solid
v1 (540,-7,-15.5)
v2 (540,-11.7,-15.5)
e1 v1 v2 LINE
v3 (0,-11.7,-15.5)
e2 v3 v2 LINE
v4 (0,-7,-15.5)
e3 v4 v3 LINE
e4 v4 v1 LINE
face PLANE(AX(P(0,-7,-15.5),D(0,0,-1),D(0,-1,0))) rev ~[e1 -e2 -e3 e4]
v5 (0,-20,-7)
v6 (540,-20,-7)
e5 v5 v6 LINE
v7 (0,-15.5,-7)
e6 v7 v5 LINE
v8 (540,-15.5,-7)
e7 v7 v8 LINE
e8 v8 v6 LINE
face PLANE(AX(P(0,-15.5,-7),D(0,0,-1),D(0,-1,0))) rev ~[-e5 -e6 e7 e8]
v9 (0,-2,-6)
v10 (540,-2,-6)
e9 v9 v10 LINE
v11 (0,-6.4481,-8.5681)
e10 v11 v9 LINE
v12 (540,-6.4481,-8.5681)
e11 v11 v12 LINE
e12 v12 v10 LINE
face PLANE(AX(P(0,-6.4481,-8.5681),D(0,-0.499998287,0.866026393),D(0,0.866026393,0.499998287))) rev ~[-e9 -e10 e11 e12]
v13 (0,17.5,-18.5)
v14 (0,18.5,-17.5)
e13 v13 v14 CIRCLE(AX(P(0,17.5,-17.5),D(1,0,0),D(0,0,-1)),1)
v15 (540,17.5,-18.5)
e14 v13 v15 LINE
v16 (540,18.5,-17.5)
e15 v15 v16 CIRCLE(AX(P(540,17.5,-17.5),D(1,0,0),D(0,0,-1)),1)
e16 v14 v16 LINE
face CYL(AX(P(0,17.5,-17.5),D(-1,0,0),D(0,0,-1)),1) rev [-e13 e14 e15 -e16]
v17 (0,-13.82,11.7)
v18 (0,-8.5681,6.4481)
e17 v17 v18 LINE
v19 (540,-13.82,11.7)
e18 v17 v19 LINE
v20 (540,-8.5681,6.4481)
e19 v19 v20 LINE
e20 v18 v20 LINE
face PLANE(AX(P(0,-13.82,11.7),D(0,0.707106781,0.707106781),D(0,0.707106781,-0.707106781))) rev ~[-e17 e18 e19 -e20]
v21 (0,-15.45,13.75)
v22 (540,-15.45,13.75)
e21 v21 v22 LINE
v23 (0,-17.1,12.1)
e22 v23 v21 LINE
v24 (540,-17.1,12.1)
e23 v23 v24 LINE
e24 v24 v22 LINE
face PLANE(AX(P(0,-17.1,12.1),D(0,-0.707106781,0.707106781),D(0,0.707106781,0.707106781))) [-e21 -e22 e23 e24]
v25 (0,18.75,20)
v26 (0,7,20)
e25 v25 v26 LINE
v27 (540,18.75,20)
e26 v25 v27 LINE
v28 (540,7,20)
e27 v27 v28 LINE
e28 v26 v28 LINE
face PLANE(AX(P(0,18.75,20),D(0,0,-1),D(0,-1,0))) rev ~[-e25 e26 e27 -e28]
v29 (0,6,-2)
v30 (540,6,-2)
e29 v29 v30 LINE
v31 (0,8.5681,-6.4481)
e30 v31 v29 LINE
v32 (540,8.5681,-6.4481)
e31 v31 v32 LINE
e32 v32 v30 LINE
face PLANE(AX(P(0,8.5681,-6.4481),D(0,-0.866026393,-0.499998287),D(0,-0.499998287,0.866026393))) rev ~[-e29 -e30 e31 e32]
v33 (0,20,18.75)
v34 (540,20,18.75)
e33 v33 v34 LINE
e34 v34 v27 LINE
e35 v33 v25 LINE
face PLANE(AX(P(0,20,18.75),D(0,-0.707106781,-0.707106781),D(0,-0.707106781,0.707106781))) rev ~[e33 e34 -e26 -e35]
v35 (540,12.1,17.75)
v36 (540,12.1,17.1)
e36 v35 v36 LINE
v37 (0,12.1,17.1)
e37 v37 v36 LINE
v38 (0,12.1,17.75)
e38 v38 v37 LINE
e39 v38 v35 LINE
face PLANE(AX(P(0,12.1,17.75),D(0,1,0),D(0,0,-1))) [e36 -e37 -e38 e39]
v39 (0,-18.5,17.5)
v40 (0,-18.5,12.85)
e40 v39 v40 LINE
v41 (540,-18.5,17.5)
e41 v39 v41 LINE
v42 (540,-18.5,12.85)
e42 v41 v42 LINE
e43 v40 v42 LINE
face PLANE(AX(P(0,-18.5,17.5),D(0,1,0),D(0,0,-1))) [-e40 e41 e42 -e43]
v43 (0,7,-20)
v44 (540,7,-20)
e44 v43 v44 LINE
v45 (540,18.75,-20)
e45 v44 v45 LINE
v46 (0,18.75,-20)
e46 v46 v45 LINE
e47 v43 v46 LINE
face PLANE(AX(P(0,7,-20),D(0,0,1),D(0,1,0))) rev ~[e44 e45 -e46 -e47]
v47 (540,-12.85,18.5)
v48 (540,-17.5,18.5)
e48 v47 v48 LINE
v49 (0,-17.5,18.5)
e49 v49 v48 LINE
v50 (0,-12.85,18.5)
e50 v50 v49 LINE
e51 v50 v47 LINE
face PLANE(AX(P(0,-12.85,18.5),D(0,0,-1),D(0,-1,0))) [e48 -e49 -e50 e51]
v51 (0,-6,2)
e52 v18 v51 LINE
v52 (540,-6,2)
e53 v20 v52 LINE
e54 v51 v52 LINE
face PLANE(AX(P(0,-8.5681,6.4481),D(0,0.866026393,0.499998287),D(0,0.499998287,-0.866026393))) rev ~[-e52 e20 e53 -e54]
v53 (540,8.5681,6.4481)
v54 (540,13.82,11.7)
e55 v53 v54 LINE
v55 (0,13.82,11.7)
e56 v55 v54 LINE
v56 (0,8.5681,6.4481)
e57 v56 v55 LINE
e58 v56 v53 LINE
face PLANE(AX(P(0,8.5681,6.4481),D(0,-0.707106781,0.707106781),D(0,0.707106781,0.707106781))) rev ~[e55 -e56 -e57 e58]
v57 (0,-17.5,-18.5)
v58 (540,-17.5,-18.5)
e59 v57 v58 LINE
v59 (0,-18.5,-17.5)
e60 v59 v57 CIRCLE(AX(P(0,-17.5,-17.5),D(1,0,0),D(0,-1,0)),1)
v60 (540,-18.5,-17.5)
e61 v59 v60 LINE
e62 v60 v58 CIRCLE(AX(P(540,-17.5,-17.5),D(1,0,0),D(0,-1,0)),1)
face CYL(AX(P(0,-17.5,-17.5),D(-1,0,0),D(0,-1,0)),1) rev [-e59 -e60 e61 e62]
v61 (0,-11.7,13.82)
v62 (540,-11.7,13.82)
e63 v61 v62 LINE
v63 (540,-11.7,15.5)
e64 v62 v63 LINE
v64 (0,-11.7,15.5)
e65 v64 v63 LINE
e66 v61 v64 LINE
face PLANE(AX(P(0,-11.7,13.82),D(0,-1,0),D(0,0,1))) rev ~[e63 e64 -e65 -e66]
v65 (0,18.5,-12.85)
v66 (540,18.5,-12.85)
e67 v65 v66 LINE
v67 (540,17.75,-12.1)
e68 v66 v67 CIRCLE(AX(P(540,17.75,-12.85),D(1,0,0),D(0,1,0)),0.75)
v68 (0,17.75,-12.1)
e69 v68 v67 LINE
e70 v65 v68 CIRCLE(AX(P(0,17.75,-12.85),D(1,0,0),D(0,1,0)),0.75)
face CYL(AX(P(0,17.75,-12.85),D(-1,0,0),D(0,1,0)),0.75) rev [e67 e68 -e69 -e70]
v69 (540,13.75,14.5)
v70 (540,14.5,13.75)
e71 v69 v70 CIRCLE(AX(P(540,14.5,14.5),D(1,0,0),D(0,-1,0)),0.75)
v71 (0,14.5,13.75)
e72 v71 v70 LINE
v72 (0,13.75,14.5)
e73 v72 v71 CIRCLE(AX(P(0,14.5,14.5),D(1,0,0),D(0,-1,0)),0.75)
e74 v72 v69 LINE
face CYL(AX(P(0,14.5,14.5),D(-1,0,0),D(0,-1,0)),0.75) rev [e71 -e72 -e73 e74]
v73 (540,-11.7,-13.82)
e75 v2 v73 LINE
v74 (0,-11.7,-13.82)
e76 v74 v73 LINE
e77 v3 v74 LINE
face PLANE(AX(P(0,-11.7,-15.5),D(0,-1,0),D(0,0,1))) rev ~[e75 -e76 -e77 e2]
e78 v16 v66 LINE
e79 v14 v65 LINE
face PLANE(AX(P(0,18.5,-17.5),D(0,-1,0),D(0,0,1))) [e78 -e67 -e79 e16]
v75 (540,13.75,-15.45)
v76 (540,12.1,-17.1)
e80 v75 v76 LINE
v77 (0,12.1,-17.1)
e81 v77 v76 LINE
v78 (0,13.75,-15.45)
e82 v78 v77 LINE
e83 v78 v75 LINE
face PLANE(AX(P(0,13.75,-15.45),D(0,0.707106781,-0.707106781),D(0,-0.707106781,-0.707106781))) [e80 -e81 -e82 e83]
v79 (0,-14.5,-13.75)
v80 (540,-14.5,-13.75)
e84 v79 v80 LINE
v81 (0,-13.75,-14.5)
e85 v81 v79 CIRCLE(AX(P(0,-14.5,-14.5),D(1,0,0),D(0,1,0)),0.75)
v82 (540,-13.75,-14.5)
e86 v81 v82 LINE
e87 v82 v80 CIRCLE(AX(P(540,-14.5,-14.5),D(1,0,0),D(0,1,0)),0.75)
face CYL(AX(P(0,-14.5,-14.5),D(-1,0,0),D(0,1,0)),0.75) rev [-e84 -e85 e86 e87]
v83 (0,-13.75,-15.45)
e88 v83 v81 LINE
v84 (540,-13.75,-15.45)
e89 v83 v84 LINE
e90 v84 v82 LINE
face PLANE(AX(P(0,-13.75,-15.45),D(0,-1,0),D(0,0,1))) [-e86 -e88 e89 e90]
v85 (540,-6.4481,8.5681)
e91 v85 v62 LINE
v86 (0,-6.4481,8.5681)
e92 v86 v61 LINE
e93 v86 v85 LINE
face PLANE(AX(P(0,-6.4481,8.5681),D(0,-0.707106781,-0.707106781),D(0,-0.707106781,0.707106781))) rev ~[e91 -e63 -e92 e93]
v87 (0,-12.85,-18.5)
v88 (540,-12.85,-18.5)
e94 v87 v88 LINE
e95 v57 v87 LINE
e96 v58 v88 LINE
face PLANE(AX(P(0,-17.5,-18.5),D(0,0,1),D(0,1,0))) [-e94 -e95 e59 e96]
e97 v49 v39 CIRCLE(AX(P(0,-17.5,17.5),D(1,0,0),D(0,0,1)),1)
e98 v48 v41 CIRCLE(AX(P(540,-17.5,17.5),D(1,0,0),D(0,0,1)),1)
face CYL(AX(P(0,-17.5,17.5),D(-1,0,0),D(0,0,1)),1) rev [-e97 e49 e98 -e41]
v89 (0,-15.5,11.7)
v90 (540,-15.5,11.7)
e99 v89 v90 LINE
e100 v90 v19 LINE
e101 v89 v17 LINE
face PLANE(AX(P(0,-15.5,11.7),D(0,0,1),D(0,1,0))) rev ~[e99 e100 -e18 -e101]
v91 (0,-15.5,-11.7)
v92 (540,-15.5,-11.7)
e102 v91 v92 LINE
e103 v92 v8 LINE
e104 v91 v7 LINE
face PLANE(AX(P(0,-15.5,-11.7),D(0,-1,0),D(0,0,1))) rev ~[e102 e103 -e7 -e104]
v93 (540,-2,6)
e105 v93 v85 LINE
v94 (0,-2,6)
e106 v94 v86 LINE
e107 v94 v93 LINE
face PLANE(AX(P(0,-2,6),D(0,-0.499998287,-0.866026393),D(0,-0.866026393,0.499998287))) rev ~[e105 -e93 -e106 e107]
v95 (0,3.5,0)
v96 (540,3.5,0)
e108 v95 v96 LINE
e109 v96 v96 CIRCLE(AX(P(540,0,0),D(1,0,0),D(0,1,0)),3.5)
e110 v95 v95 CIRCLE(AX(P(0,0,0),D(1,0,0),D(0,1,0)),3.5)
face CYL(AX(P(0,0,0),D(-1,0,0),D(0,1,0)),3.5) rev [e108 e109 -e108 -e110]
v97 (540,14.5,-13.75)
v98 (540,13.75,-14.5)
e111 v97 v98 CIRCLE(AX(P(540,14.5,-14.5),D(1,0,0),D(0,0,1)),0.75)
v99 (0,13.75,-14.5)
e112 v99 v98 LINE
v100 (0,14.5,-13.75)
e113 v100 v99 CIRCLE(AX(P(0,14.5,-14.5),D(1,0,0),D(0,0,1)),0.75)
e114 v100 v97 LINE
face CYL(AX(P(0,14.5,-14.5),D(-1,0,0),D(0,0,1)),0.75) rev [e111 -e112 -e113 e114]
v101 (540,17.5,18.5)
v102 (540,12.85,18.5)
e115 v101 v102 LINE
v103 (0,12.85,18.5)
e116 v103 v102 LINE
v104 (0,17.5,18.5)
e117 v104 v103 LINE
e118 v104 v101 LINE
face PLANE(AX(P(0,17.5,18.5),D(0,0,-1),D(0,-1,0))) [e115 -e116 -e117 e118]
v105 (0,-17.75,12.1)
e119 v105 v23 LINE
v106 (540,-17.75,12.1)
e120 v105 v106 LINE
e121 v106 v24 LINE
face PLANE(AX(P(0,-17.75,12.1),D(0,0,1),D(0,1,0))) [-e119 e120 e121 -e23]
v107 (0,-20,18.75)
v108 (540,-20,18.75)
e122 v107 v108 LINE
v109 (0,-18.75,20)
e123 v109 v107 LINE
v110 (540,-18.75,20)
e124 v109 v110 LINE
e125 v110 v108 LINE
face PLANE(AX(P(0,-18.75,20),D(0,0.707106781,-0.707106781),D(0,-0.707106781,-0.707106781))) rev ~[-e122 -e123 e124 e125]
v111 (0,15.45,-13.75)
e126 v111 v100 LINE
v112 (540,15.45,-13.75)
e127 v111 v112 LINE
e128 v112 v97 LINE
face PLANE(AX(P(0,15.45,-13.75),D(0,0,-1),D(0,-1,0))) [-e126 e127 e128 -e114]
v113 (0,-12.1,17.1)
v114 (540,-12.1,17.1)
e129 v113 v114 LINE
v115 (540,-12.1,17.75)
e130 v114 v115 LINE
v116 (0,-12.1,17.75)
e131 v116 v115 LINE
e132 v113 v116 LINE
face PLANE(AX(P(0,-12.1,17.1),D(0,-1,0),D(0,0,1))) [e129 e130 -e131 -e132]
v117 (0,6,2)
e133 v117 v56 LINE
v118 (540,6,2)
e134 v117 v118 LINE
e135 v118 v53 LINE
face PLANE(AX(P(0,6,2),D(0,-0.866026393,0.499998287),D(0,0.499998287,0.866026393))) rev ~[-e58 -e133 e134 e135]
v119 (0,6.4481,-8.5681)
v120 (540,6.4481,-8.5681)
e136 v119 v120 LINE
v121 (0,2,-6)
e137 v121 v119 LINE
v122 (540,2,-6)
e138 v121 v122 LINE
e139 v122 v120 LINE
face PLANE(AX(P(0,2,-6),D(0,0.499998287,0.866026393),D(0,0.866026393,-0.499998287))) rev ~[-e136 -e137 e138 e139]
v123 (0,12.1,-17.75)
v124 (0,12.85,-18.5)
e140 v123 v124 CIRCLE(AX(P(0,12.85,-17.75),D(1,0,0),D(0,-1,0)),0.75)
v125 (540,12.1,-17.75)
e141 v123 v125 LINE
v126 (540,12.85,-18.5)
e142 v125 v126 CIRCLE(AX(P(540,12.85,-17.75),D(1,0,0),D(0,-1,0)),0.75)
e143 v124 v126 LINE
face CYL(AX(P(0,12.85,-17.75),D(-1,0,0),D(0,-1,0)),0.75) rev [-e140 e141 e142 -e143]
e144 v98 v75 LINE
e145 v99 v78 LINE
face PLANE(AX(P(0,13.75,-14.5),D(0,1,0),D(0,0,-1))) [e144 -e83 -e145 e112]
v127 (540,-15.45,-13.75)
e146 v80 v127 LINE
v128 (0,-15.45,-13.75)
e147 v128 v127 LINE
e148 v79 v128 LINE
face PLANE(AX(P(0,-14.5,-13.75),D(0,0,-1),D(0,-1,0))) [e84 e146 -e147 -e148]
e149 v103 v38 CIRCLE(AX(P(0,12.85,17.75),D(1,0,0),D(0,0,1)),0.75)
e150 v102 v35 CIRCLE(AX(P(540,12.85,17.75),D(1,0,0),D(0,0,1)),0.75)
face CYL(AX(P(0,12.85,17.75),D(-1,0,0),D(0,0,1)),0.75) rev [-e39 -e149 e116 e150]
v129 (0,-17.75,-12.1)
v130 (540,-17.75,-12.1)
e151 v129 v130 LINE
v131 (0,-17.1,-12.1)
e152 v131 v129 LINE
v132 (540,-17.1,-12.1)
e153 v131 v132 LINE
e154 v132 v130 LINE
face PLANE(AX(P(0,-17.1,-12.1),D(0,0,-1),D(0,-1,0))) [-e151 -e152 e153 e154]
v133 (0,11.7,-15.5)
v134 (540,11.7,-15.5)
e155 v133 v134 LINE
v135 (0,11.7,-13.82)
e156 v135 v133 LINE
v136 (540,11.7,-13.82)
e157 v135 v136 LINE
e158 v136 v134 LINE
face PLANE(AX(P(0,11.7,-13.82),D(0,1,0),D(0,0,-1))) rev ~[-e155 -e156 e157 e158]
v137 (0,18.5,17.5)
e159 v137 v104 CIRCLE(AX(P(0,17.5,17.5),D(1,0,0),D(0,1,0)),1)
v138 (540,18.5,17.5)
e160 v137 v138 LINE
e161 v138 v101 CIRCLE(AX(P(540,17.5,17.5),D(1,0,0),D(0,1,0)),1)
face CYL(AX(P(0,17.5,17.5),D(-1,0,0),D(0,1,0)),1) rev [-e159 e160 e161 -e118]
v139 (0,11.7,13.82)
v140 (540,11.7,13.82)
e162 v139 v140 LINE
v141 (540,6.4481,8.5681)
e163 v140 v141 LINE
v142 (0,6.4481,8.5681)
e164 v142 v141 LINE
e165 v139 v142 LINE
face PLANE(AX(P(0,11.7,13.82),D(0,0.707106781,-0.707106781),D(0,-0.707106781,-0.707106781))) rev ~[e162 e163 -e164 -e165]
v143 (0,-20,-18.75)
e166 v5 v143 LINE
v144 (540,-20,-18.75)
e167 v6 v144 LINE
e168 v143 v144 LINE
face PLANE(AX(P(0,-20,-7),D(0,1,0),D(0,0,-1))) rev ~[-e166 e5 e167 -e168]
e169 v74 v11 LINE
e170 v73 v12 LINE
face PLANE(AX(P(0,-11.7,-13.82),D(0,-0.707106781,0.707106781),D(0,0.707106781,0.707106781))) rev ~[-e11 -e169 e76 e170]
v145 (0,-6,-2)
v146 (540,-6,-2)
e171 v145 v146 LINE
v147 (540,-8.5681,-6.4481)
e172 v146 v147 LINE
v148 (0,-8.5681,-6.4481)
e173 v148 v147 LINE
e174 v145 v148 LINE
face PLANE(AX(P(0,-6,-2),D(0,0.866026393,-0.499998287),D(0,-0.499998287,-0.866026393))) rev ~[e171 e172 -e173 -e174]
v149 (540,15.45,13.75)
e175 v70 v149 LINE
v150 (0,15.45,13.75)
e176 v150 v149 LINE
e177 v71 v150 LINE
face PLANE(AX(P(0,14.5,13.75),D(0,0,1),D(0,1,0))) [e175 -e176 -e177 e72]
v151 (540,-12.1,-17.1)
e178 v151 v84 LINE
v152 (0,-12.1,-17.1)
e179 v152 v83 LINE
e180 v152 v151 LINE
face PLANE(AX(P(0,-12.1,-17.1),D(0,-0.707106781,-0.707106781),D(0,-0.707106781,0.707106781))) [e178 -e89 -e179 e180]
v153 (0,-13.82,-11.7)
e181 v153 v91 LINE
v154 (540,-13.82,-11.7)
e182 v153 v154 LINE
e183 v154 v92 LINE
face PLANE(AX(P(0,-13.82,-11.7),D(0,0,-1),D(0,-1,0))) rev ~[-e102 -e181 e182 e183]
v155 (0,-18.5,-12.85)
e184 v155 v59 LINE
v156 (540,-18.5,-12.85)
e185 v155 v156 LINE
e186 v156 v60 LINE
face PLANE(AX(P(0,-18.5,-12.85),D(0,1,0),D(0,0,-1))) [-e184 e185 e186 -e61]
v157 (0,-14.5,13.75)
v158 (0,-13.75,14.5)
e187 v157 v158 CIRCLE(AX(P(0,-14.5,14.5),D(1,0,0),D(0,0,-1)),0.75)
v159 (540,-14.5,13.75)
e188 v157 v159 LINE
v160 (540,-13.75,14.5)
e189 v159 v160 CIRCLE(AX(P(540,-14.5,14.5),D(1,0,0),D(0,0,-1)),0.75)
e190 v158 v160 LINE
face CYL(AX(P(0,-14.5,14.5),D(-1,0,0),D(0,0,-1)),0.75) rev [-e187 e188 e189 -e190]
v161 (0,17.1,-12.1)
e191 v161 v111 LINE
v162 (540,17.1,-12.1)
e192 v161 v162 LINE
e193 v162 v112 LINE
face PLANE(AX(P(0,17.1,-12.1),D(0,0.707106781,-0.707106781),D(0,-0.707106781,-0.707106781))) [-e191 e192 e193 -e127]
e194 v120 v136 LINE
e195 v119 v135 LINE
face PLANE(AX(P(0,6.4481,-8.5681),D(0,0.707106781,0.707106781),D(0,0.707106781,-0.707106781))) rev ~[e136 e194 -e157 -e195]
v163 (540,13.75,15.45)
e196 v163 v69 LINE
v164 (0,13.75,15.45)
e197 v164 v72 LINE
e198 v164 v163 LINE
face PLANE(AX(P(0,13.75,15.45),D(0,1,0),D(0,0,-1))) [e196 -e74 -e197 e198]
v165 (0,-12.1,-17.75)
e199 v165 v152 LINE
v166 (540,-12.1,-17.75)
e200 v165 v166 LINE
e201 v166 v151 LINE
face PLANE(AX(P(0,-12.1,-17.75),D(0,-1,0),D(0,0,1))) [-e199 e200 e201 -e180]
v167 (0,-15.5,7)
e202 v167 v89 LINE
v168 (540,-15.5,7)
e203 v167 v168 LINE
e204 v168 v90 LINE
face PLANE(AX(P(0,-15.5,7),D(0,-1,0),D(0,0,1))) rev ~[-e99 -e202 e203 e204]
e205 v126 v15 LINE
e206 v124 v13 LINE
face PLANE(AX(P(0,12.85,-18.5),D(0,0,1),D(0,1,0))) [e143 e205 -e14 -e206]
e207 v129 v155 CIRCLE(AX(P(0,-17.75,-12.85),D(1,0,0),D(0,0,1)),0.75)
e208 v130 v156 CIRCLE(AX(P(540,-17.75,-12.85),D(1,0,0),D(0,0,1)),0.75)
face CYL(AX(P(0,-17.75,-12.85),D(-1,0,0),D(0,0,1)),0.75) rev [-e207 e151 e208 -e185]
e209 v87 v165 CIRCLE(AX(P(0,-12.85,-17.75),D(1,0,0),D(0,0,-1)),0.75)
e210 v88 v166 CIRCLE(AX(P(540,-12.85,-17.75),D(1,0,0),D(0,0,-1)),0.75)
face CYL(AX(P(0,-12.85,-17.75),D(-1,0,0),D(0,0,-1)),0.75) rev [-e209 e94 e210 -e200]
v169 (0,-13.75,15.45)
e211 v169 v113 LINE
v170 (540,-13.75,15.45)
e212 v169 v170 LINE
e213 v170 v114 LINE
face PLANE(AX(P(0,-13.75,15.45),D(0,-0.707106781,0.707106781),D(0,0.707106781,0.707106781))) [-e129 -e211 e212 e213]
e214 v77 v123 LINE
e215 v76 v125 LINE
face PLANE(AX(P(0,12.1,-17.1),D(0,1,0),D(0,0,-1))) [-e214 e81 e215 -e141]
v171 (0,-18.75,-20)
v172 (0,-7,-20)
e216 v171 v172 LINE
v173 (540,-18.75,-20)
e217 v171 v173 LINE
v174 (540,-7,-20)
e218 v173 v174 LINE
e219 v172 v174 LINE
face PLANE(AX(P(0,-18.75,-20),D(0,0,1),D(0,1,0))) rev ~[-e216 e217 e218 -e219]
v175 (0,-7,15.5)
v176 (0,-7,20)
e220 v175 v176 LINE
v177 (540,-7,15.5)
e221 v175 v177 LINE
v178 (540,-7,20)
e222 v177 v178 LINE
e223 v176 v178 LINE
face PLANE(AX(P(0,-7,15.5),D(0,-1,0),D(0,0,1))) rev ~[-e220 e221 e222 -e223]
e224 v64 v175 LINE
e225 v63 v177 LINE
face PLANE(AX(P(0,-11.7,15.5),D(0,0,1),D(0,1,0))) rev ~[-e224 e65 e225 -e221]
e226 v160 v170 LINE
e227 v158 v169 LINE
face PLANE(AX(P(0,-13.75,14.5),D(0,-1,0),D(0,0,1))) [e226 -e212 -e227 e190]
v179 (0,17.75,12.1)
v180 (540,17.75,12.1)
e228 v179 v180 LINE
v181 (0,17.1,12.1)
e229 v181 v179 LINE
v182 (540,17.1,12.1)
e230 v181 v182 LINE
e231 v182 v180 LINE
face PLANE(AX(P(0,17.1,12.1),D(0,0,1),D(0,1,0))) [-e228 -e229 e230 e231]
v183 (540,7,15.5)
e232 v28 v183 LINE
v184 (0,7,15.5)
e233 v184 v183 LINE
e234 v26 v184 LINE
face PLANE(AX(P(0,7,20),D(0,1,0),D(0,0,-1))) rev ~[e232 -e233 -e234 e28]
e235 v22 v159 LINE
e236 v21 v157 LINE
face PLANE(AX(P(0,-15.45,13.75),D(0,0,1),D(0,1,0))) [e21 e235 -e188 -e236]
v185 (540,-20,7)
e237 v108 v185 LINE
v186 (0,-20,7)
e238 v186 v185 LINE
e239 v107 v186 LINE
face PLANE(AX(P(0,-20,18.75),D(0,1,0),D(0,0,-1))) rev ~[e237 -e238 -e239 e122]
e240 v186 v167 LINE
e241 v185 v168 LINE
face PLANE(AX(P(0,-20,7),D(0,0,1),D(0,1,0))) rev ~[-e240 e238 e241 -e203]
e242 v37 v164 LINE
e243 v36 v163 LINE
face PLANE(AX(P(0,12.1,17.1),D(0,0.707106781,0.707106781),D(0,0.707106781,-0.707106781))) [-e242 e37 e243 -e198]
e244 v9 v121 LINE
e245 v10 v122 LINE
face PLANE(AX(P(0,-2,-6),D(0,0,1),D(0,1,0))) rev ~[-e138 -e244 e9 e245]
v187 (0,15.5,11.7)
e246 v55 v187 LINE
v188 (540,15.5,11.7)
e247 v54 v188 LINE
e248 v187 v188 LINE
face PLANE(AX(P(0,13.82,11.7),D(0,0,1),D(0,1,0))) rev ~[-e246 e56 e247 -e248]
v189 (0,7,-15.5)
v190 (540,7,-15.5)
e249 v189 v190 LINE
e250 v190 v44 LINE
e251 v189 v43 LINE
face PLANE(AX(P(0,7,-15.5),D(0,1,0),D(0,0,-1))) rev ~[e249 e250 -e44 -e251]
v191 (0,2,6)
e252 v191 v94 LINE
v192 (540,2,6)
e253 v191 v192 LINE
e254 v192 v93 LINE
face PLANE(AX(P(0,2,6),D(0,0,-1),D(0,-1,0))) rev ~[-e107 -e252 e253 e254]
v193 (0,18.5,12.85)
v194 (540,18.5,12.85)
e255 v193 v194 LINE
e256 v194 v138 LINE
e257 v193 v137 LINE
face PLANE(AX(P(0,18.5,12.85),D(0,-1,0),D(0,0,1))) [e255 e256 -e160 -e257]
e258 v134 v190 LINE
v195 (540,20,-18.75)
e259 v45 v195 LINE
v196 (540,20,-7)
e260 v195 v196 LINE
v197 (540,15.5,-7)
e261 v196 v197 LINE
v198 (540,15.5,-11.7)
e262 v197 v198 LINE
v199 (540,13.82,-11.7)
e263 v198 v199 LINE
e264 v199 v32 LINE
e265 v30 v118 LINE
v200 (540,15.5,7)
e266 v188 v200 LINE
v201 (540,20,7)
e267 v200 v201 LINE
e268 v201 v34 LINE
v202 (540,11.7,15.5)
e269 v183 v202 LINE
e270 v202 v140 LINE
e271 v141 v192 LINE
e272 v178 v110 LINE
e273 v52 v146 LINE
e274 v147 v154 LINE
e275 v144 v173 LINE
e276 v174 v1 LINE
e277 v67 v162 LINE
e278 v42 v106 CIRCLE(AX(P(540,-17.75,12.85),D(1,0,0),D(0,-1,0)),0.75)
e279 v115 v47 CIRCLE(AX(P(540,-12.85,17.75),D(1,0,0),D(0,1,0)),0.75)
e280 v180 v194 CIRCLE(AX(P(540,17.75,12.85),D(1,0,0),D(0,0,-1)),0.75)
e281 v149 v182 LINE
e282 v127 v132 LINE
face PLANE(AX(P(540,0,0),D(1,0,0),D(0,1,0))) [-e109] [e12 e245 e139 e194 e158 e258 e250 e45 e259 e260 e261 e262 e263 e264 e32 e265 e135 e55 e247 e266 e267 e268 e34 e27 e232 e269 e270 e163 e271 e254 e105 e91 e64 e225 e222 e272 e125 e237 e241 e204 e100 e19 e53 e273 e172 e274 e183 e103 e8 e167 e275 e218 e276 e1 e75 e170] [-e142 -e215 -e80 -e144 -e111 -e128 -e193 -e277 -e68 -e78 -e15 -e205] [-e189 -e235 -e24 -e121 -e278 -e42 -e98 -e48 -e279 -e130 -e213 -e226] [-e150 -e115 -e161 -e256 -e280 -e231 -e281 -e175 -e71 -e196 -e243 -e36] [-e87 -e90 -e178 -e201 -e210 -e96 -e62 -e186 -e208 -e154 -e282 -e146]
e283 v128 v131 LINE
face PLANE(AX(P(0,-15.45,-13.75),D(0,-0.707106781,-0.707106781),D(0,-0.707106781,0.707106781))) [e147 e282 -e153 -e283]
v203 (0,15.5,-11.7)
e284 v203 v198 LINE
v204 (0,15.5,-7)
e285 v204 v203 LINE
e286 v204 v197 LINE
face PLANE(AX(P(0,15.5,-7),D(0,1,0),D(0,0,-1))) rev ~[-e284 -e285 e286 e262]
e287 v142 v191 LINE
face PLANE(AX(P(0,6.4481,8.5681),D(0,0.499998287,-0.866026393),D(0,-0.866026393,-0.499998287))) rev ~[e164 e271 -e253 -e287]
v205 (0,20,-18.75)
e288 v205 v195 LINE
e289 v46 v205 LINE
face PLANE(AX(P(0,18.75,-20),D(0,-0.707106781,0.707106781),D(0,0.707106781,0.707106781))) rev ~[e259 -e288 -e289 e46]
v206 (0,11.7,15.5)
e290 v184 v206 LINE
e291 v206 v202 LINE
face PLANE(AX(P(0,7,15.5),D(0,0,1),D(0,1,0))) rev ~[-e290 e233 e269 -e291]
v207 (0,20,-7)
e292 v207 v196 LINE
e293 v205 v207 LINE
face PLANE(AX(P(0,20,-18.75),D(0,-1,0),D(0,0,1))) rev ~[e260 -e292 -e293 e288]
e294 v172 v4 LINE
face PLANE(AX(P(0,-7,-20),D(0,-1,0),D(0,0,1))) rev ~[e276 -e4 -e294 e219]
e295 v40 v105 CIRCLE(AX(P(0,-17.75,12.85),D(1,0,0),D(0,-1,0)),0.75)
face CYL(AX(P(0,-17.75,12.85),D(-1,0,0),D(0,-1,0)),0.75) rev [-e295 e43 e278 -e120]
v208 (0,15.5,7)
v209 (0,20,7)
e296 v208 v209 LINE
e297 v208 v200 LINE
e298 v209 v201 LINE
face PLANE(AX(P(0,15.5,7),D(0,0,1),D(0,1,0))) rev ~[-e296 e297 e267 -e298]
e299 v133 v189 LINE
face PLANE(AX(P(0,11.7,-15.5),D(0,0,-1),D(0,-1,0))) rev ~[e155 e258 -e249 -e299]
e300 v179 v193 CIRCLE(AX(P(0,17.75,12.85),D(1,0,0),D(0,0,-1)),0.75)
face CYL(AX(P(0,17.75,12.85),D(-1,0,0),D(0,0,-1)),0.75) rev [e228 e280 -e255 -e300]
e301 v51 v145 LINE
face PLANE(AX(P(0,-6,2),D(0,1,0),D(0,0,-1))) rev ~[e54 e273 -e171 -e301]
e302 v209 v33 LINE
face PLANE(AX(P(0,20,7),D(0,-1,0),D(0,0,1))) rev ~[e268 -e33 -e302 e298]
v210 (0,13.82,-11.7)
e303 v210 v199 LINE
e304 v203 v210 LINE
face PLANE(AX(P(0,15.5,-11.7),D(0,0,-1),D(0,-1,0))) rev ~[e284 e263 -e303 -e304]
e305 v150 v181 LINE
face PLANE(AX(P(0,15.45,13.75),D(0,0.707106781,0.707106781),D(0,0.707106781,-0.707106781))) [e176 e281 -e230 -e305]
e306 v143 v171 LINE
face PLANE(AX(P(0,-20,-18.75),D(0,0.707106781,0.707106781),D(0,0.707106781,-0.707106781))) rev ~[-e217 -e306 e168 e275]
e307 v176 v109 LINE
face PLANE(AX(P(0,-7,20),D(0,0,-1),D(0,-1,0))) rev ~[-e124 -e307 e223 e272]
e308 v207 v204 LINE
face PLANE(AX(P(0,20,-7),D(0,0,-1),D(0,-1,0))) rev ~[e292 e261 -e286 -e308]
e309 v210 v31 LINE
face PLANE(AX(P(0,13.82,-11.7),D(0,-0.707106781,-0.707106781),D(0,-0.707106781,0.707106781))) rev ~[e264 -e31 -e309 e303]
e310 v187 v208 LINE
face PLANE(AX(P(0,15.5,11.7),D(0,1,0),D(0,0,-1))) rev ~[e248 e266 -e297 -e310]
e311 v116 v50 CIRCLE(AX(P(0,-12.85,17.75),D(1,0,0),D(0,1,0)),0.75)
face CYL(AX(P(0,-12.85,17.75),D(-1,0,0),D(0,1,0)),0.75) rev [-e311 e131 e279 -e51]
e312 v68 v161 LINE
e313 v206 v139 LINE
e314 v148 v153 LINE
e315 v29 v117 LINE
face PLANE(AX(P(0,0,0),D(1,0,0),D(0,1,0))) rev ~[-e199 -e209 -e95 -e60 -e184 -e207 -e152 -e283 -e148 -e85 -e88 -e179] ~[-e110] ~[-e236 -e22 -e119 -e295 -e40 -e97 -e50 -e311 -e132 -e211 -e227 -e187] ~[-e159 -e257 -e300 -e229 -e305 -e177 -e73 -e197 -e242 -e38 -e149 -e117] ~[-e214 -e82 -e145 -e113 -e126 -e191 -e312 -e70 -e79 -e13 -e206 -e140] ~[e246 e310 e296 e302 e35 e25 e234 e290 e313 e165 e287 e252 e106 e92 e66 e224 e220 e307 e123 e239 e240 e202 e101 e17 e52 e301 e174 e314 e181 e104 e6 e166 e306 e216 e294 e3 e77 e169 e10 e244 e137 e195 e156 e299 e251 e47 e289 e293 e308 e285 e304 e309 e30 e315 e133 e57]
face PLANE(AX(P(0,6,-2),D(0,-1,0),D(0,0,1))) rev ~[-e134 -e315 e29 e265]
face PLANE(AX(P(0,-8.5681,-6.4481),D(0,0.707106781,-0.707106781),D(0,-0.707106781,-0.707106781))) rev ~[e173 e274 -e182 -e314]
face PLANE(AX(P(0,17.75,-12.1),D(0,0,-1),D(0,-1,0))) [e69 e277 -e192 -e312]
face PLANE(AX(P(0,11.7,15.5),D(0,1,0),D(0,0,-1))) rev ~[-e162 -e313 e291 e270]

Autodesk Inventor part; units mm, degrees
sketch "Skizze_1" plane through (0, 0, 0) normal (1, 0, 0) x (0, 1, 0)
  line L0 (18.75, 20) -> (7, 20)
  line L1 (7, 20) -> (7, 15.5)
  line L2 (7, 15.5) -> (11.7, 15.5)
  line L3 (11.7, 15.5) -> (11.7, 13.82)
  line L4 (11.7, 13.82) -> (6.4481, 8.5681)
  line L5 (6.4481, 8.5681) -> (2, 6)
  line L6 (2, 6) -> (-2, 6)
  line L7 (-2, 6) -> (-6.4481, 8.5681)
  line L8 (-6.4481, 8.5681) -> (-11.7, 13.82)
  line L9 (-11.7, 13.82) -> (-11.7, 15.5)
  line L10 (-11.7, 15.5) -> (-7, 15.5)
  line L11 (-7, 15.5) -> (-7, 20)
  line L12 (-7, 20) -> (-18.75, 20)
  line L13 (-18.75, 20) -> (-20, 18.75)
  line L14 (-20, 18.75) -> (-20, 7)
  line L15 (-20, 7) -> (-15.5, 7)
  line L16 (-15.5, 7) -> (-15.5, 11.7)
  line L17 (-15.5, 11.7) -> (-13.82, 11.7)
  line L18 (-13.82, 11.7) -> (-8.5681, 6.4481)
  line L19 (-8.5681, 6.4481) -> (-6, 2)
  line L20 (-6, 2) -> (-6, -2)
  line L21 (-6, -2) -> (-8.5681, -6.4481)
  line L22 (-8.5681, -6.4481) -> (-13.82, -11.7)
  line L23 (-13.82, -11.7) -> (-15.5, -11.7)
  line L24 (-15.5, -11.7) -> (-15.5, -7)
  line L25 (-15.5, -7) -> (-20, -7)
  line L26 (-20, -7) -> (-20, -18.75)
  line L27 (-20, -18.75) -> (-18.75, -20)
  line L28 (-18.75, -20) -> (-7, -20)
  line L29 (-7, -20) -> (-7, -15.5)
  line L30 (-7, -15.5) -> (-11.7, -15.5)
  line L31 (-11.7, -15.5) -> (-11.7, -13.82)
  line L32 (-11.7, -13.82) -> (-6.4481, -8.5681)
  line L33 (-6.4481, -8.5681) -> (-2, -6)
  line L34 (-2, -6) -> (2, -6)
  line L35 (2, -6) -> (6.4481, -8.5681)
  line L36 (6.4481, -8.5681) -> (11.7, -13.82)
  line L37 (11.7, -13.82) -> (11.7, -15.5)
  line L38 (11.7, -15.5) -> (7, -15.5)
  line L39 (7, -15.5) -> (7, -20)
  line L40 (7, -20) -> (18.75, -20)
  line L41 (18.75, -20) -> (20, -18.75)
  line L42 (20, -18.75) -> (20, -7)
  line L43 (20, -7) -> (15.5, -7)
  line L44 (15.5, -7) -> (15.5, -11.7)
  line L45 (15.5, -11.7) -> (13.82, -11.7)
  line L46 (13.82, -11.7) -> (8.5681, -6.4481)
  line L47 (8.5681, -6.4481) -> (6, -2)
  line L48 (6, -2) -> (6, 2)
  line L49 (6, 2) -> (8.5681, 6.4481)
  line L50 (8.5681, 6.4481) -> (13.82, 11.7)
  line L51 (13.82, 11.7) -> (15.5, 11.7)
  line L52 (15.5, 11.7) -> (15.5, 7)
  line L53 (15.5, 7) -> (20, 7)
  line L54 (20, 7) -> (20, 18.75)
  line L55 (20, 18.75) -> (18.75, 20)
  line L56 (17.75, -12.1) -> (17.1, -12.1)
  line L57 (17.1, -12.1) -> (15.45, -13.75)
  line L58 (15.45, -13.75) -> (14.5, -13.75)
  arc A0 (14.5, -13.75) -> (13.75, -14.5) centre (14.5, -14.5) ccw
  line L59 (13.75, -14.5) -> (13.75, -15.45)
  line L60 (13.75, -15.45) -> (12.1, -17.1)
  line L61 (12.1, -17.1) -> (12.1, -17.75)
  arc A1 (12.1, -17.75) -> (12.85, -18.5) centre (12.85, -17.75) ccw
  line L62 (12.85, -18.5) -> (17.5, -18.5)
  arc A2 (17.5, -18.5) -> (18.5, -17.5) centre (17.5, -17.5) ccw
  line L63 (18.5, -17.5) -> (18.5, -12.85)
  arc A3 (18.5, -12.85) -> (17.75, -12.1) centre (17.75, -12.85) ccw
  line L64 (-17.1, -12.1) -> (-17.75, -12.1)
  arc A4 (-17.75, -12.1) -> (-18.5, -12.85) centre (-17.75, -12.85) ccw
  line L65 (-18.5, -12.85) -> (-18.5, -17.5)
  arc A5 (-18.5, -17.5) -> (-17.5, -18.5) centre (-17.5, -17.5) ccw
  line L66 (-17.5, -18.5) -> (-12.85, -18.5)
  arc A6 (-12.85, -18.5) -> (-12.1, -17.75) centre (-12.85, -17.75) ccw
  line L67 (-12.1, -17.75) -> (-12.1, -17.1)
  line L68 (-12.1, -17.1) -> (-13.75, -15.45)
  line L69 (-13.75, -15.45) -> (-13.75, -14.5)
  arc A7 (-13.75, -14.5) -> (-14.5, -13.75) centre (-14.5, -14.5) ccw
  line L70 (-14.5, -13.75) -> (-15.45, -13.75)
  line L71 (-15.45, -13.75) -> (-17.1, -12.1)
  circle A8 centre (0, 0) radius 3.5
  arc A9 (-17.5, 18.5) -> (-18.5, 17.5) centre (-17.5, 17.5) ccw
  line L72 (-18.5, 17.5) -> (-18.5, 12.85)
  arc A10 (-18.5, 12.85) -> (-17.75, 12.1) centre (-17.75, 12.85) ccw
  line L73 (-17.75, 12.1) -> (-17.1, 12.1)
  line L74 (-17.1, 12.1) -> (-15.45, 13.75)
  line L75 (-15.45, 13.75) -> (-14.5, 13.75)
  arc A11 (-14.5, 13.75) -> (-13.75, 14.5) centre (-14.5, 14.5) ccw
  line L76 (-13.75, 14.5) -> (-13.75, 15.45)
  line L77 (-13.75, 15.45) -> (-12.1, 17.1)
  line L78 (-12.1, 17.1) -> (-12.1, 17.75)
  arc A12 (-12.1, 17.75) -> (-12.85, 18.5) centre (-12.85, 17.75) ccw
  line L79 (-12.85, 18.5) -> (-17.5, 18.5)
  line L80 (17.5, 18.5) -> (12.85, 18.5)
  arc A13 (12.85, 18.5) -> (12.1, 17.75) centre (12.85, 17.75) ccw
  line L81 (12.1, 17.75) -> (12.1, 17.1)
  line L82 (12.1, 17.1) -> (13.75, 15.45)
  line L83 (13.75, 15.45) -> (13.75, 14.5)
  arc A14 (13.75, 14.5) -> (14.5, 13.75) centre (14.5, 14.5) ccw
  line L84 (14.5, 13.75) -> (15.45, 13.75)
  line L85 (15.45, 13.75) -> (17.1, 12.1)
  line L86 (17.1, 12.1) -> (17.75, 12.1)
  arc A15 (17.75, 12.1) -> (18.5, 12.85) centre (17.75, 12.85) ccw
  line L87 (18.5, 12.85) -> (18.5, 17.5)
  arc A16 (18.5, 17.5) -> (17.5, 18.5) centre (17.5, 17.5) ccw
extrude "Extrusion1" add sketch "Skizze_1" along normal blind 540
ref_plane "CS_ANBAU_HINTEN_LINKS_XY" through (540, 0, 20) normal (1, 0, 0) x (0, 0, -1)
ref_plane "CS_ANBAU_HINTEN_LINKS_YZ" through (540, 0, 20) normal (0, 0, -1) x (0, 1, 0)
ref_plane "CS_ANBAU_HINTEN_LINKS_ZX" through (540, 0, 20) normal (0, 1, 0) x (1, 0, 0)
ref_plane "CS_ANBAU_HINTEN_OBEN_XY" through (540, 20, 0) normal (1, 0, 0) x (0, 0, -1)
ref_plane "CS_ANBAU_HINTEN_OBEN_YZ" through (540, 20, 0) normal (0, 0, -1) x (0, 1, 0)
ref_plane "CS_ANBAU_HINTEN_OBEN_ZX" through (540, 20, 0) normal (0, 1, 0) x (1, 0, 0)
ref_plane "CS_ANBAU_HINTEN_RECHTS_XY" through (540, 0, -20) normal (1, 0, 0) x (0, 0, -1)
ref_plane "CS_ANBAU_HINTEN_RECHTS_YZ" through (540, 0, -20) normal (0, 0, -1) x (0, 1, 0)
ref_plane "CS_ANBAU_HINTEN_RECHTS_ZX" through (540, 0, -20) normal (0, 1, 0) x (1, 0, 0)
ref_plane "CS_ANBAU_HINTEN_UNTEN_XY" through (540, -20, 0) normal (1, 0, 0) x (0, 0, -1)
ref_plane "CS_ANBAU_HINTEN_UNTEN_YZ" through (540, -20, 0) normal (0, 0, -1) x (0, 1, 0)
ref_plane "CS_ANBAU_HINTEN_UNTEN_ZX" through (540, -20, 0) normal (0, 1, 0) x (1, 0, 0)
ref_plane "CS_ANBAU_QUER_XY" through (0, 0, 20) normal (0, 0, 1) x (1, 0, 0)
ref_plane "CS_ANBAU_QUER_YZ" through (0, 0, 20) normal (1, 0, 0) x (0, 1, 0)
ref_plane "CS_ANBAU_QUER_ZX" through (0, 0, 20) normal (0, 1, 0) x (0, 0, 1)
ref_plane "CS_ANBAU_QUER_1_XY" through (540, 0, 20) normal (0, 0, 1) x (1, 0, 0)
ref_plane "CS_ANBAU_QUER_1_YZ" through (540, 0, 20) normal (1, 0, 0) x (0, 1, 0)
ref_plane "CS_ANBAU_QUER_1_ZX" through (540, 0, 20) normal (0, 1, 0) x (0, 0, 1)
ref_plane "CS_ANBAU_VORNE_LINKS_XY" through (0, 0, 20) normal (-1, 0, 0) x (0, 0, -1)
ref_plane "CS_ANBAU_VORNE_LINKS_YZ" through (0, 0, 20) normal (0, 0, -1) x (0, -1, 0)
ref_plane "CS_ANBAU_VORNE_LINKS_ZX" through (0, 0, 20) normal (0, -1, 0) x (-1, 0, 0)
ref_plane "CS_ANBAU_VORNE_OBEN_XY" through (0, 20, 0) normal (-1, 0, 0) x (0, 0, -1)
ref_plane "CS_ANBAU_VORNE_OBEN_YZ" through (0, 20, 0) normal (0, 0, -1) x (0, -1, 0)
ref_plane "CS_ANBAU_VORNE_OBEN_ZX" through (0, 20, 0) normal (0, -1, 0) x (-1, 0, 0)
ref_plane "CS_ANBAU_VORNE_RECHTS_XY" through (0, 0, -20) normal (-1, 0, 0) x (0, 0, -1)
ref_plane "CS_ANBAU_VORNE_RECHTS_YZ" through (0, 0, -20) normal (0, 0, -1) x (0, -1, 0)
ref_plane "CS_ANBAU_VORNE_RECHTS_ZX" through (0, 0, -20) normal (0, -1, 0) x (-1, 0, 0)
ref_plane "CS_ANBAU_VORNE_UNTEN_XY" through (0, -20, 0) normal (-1, 0, 0) x (0, 0, -1)
ref_plane "CS_ANBAU_VORNE_UNTEN_YZ" through (0, -20, 0) normal (0, 0, -1) x (0, -1, 0)
ref_plane "CS_ANBAU_VORNE_UNTEN_ZX" through (0, -20, 0) normal (0, -1, 0) x (-1, 0, 0)
ref_plane "p1_XY" through (0, 20, 0) normal (0, 0, 1) x (1, 0, 0)
ref_plane "p1_YZ" through (0, 20, 0) normal (1, 0, 0) x (0, 1, 0)
ref_plane "p1_ZX" through (0, 20, 0) normal (0, 1, 0) x (0, 0, 1)
ref_plane "p2_XY" through (540, 20, 0) normal (0, 0, 1) x (1, 0, 0)
ref_plane "p2_YZ" through (540, 20, 0) normal (1, 0, 0) x (0, 1, 0)
ref_plane "p2_ZX" through (540, 20, 0) normal (0, 1, 0) x (0, 0, 1)
ref_plane "p3_XY" through (540, -20, 18.75) normal (1, 0, 0) x (0, 0, -1)
ref_plane "p3_YZ" through (540, -20, 18.75) normal (0, 0, -1) x (0, 1, 0)
ref_plane "p3_ZX" through (540, -20, 18.75) normal (0, 1, 0) x (1, 0, 0)
ref_plane "p4_XY" through (540, 20, 18.75) normal (1, 0, 0) x (0, 0, -1)
ref_plane "p4_YZ" through (540, 20, 18.75) normal (0, 0, -1) x (0, 1, 0)
ref_plane "p4_ZX" through (540, 20, 18.75) normal (0, 1, 0) x (1, 0, 0)
ref_plane "p5_XY" through (540, 20, -21.25) normal (1, 0, 0) x (0, 0, -1)
ref_plane "p5_YZ" through (540, 20, -21.25) normal (0, 0, -1) x (0, 1, 0)
ref_plane "p5_ZX" through (540, 20, -21.25) normal (0, 1, 0) x (1, 0, 0)
ref_plane "pm1_XY" through (0, 0, 0) normal (1, 0, 0) x (0, 0, -1)
ref_plane "pm1_YZ" through (0, 0, 0) normal (0, 0, -1) x (0, 1, 0)
ref_plane "pm1_ZX" through (0, 0, 0) normal (0, 1, 0) x (1, 0, 0)
ref_plane "pm2_XY" through (540, 0, -1.25) normal (1, 0, 0) x (0, 0, -1)
ref_plane "pm2_YZ" through (540, 0, -1.25) normal (0, 0, -1) x (0, 1, 0)
ref_plane "pm2_ZX" through (540, 0, -1.25) normal (0, 1, 0) x (1, 0, 0)
properties part number "Robotunits Profil 40 x 40 - PIL 4040 SNN 0540"
